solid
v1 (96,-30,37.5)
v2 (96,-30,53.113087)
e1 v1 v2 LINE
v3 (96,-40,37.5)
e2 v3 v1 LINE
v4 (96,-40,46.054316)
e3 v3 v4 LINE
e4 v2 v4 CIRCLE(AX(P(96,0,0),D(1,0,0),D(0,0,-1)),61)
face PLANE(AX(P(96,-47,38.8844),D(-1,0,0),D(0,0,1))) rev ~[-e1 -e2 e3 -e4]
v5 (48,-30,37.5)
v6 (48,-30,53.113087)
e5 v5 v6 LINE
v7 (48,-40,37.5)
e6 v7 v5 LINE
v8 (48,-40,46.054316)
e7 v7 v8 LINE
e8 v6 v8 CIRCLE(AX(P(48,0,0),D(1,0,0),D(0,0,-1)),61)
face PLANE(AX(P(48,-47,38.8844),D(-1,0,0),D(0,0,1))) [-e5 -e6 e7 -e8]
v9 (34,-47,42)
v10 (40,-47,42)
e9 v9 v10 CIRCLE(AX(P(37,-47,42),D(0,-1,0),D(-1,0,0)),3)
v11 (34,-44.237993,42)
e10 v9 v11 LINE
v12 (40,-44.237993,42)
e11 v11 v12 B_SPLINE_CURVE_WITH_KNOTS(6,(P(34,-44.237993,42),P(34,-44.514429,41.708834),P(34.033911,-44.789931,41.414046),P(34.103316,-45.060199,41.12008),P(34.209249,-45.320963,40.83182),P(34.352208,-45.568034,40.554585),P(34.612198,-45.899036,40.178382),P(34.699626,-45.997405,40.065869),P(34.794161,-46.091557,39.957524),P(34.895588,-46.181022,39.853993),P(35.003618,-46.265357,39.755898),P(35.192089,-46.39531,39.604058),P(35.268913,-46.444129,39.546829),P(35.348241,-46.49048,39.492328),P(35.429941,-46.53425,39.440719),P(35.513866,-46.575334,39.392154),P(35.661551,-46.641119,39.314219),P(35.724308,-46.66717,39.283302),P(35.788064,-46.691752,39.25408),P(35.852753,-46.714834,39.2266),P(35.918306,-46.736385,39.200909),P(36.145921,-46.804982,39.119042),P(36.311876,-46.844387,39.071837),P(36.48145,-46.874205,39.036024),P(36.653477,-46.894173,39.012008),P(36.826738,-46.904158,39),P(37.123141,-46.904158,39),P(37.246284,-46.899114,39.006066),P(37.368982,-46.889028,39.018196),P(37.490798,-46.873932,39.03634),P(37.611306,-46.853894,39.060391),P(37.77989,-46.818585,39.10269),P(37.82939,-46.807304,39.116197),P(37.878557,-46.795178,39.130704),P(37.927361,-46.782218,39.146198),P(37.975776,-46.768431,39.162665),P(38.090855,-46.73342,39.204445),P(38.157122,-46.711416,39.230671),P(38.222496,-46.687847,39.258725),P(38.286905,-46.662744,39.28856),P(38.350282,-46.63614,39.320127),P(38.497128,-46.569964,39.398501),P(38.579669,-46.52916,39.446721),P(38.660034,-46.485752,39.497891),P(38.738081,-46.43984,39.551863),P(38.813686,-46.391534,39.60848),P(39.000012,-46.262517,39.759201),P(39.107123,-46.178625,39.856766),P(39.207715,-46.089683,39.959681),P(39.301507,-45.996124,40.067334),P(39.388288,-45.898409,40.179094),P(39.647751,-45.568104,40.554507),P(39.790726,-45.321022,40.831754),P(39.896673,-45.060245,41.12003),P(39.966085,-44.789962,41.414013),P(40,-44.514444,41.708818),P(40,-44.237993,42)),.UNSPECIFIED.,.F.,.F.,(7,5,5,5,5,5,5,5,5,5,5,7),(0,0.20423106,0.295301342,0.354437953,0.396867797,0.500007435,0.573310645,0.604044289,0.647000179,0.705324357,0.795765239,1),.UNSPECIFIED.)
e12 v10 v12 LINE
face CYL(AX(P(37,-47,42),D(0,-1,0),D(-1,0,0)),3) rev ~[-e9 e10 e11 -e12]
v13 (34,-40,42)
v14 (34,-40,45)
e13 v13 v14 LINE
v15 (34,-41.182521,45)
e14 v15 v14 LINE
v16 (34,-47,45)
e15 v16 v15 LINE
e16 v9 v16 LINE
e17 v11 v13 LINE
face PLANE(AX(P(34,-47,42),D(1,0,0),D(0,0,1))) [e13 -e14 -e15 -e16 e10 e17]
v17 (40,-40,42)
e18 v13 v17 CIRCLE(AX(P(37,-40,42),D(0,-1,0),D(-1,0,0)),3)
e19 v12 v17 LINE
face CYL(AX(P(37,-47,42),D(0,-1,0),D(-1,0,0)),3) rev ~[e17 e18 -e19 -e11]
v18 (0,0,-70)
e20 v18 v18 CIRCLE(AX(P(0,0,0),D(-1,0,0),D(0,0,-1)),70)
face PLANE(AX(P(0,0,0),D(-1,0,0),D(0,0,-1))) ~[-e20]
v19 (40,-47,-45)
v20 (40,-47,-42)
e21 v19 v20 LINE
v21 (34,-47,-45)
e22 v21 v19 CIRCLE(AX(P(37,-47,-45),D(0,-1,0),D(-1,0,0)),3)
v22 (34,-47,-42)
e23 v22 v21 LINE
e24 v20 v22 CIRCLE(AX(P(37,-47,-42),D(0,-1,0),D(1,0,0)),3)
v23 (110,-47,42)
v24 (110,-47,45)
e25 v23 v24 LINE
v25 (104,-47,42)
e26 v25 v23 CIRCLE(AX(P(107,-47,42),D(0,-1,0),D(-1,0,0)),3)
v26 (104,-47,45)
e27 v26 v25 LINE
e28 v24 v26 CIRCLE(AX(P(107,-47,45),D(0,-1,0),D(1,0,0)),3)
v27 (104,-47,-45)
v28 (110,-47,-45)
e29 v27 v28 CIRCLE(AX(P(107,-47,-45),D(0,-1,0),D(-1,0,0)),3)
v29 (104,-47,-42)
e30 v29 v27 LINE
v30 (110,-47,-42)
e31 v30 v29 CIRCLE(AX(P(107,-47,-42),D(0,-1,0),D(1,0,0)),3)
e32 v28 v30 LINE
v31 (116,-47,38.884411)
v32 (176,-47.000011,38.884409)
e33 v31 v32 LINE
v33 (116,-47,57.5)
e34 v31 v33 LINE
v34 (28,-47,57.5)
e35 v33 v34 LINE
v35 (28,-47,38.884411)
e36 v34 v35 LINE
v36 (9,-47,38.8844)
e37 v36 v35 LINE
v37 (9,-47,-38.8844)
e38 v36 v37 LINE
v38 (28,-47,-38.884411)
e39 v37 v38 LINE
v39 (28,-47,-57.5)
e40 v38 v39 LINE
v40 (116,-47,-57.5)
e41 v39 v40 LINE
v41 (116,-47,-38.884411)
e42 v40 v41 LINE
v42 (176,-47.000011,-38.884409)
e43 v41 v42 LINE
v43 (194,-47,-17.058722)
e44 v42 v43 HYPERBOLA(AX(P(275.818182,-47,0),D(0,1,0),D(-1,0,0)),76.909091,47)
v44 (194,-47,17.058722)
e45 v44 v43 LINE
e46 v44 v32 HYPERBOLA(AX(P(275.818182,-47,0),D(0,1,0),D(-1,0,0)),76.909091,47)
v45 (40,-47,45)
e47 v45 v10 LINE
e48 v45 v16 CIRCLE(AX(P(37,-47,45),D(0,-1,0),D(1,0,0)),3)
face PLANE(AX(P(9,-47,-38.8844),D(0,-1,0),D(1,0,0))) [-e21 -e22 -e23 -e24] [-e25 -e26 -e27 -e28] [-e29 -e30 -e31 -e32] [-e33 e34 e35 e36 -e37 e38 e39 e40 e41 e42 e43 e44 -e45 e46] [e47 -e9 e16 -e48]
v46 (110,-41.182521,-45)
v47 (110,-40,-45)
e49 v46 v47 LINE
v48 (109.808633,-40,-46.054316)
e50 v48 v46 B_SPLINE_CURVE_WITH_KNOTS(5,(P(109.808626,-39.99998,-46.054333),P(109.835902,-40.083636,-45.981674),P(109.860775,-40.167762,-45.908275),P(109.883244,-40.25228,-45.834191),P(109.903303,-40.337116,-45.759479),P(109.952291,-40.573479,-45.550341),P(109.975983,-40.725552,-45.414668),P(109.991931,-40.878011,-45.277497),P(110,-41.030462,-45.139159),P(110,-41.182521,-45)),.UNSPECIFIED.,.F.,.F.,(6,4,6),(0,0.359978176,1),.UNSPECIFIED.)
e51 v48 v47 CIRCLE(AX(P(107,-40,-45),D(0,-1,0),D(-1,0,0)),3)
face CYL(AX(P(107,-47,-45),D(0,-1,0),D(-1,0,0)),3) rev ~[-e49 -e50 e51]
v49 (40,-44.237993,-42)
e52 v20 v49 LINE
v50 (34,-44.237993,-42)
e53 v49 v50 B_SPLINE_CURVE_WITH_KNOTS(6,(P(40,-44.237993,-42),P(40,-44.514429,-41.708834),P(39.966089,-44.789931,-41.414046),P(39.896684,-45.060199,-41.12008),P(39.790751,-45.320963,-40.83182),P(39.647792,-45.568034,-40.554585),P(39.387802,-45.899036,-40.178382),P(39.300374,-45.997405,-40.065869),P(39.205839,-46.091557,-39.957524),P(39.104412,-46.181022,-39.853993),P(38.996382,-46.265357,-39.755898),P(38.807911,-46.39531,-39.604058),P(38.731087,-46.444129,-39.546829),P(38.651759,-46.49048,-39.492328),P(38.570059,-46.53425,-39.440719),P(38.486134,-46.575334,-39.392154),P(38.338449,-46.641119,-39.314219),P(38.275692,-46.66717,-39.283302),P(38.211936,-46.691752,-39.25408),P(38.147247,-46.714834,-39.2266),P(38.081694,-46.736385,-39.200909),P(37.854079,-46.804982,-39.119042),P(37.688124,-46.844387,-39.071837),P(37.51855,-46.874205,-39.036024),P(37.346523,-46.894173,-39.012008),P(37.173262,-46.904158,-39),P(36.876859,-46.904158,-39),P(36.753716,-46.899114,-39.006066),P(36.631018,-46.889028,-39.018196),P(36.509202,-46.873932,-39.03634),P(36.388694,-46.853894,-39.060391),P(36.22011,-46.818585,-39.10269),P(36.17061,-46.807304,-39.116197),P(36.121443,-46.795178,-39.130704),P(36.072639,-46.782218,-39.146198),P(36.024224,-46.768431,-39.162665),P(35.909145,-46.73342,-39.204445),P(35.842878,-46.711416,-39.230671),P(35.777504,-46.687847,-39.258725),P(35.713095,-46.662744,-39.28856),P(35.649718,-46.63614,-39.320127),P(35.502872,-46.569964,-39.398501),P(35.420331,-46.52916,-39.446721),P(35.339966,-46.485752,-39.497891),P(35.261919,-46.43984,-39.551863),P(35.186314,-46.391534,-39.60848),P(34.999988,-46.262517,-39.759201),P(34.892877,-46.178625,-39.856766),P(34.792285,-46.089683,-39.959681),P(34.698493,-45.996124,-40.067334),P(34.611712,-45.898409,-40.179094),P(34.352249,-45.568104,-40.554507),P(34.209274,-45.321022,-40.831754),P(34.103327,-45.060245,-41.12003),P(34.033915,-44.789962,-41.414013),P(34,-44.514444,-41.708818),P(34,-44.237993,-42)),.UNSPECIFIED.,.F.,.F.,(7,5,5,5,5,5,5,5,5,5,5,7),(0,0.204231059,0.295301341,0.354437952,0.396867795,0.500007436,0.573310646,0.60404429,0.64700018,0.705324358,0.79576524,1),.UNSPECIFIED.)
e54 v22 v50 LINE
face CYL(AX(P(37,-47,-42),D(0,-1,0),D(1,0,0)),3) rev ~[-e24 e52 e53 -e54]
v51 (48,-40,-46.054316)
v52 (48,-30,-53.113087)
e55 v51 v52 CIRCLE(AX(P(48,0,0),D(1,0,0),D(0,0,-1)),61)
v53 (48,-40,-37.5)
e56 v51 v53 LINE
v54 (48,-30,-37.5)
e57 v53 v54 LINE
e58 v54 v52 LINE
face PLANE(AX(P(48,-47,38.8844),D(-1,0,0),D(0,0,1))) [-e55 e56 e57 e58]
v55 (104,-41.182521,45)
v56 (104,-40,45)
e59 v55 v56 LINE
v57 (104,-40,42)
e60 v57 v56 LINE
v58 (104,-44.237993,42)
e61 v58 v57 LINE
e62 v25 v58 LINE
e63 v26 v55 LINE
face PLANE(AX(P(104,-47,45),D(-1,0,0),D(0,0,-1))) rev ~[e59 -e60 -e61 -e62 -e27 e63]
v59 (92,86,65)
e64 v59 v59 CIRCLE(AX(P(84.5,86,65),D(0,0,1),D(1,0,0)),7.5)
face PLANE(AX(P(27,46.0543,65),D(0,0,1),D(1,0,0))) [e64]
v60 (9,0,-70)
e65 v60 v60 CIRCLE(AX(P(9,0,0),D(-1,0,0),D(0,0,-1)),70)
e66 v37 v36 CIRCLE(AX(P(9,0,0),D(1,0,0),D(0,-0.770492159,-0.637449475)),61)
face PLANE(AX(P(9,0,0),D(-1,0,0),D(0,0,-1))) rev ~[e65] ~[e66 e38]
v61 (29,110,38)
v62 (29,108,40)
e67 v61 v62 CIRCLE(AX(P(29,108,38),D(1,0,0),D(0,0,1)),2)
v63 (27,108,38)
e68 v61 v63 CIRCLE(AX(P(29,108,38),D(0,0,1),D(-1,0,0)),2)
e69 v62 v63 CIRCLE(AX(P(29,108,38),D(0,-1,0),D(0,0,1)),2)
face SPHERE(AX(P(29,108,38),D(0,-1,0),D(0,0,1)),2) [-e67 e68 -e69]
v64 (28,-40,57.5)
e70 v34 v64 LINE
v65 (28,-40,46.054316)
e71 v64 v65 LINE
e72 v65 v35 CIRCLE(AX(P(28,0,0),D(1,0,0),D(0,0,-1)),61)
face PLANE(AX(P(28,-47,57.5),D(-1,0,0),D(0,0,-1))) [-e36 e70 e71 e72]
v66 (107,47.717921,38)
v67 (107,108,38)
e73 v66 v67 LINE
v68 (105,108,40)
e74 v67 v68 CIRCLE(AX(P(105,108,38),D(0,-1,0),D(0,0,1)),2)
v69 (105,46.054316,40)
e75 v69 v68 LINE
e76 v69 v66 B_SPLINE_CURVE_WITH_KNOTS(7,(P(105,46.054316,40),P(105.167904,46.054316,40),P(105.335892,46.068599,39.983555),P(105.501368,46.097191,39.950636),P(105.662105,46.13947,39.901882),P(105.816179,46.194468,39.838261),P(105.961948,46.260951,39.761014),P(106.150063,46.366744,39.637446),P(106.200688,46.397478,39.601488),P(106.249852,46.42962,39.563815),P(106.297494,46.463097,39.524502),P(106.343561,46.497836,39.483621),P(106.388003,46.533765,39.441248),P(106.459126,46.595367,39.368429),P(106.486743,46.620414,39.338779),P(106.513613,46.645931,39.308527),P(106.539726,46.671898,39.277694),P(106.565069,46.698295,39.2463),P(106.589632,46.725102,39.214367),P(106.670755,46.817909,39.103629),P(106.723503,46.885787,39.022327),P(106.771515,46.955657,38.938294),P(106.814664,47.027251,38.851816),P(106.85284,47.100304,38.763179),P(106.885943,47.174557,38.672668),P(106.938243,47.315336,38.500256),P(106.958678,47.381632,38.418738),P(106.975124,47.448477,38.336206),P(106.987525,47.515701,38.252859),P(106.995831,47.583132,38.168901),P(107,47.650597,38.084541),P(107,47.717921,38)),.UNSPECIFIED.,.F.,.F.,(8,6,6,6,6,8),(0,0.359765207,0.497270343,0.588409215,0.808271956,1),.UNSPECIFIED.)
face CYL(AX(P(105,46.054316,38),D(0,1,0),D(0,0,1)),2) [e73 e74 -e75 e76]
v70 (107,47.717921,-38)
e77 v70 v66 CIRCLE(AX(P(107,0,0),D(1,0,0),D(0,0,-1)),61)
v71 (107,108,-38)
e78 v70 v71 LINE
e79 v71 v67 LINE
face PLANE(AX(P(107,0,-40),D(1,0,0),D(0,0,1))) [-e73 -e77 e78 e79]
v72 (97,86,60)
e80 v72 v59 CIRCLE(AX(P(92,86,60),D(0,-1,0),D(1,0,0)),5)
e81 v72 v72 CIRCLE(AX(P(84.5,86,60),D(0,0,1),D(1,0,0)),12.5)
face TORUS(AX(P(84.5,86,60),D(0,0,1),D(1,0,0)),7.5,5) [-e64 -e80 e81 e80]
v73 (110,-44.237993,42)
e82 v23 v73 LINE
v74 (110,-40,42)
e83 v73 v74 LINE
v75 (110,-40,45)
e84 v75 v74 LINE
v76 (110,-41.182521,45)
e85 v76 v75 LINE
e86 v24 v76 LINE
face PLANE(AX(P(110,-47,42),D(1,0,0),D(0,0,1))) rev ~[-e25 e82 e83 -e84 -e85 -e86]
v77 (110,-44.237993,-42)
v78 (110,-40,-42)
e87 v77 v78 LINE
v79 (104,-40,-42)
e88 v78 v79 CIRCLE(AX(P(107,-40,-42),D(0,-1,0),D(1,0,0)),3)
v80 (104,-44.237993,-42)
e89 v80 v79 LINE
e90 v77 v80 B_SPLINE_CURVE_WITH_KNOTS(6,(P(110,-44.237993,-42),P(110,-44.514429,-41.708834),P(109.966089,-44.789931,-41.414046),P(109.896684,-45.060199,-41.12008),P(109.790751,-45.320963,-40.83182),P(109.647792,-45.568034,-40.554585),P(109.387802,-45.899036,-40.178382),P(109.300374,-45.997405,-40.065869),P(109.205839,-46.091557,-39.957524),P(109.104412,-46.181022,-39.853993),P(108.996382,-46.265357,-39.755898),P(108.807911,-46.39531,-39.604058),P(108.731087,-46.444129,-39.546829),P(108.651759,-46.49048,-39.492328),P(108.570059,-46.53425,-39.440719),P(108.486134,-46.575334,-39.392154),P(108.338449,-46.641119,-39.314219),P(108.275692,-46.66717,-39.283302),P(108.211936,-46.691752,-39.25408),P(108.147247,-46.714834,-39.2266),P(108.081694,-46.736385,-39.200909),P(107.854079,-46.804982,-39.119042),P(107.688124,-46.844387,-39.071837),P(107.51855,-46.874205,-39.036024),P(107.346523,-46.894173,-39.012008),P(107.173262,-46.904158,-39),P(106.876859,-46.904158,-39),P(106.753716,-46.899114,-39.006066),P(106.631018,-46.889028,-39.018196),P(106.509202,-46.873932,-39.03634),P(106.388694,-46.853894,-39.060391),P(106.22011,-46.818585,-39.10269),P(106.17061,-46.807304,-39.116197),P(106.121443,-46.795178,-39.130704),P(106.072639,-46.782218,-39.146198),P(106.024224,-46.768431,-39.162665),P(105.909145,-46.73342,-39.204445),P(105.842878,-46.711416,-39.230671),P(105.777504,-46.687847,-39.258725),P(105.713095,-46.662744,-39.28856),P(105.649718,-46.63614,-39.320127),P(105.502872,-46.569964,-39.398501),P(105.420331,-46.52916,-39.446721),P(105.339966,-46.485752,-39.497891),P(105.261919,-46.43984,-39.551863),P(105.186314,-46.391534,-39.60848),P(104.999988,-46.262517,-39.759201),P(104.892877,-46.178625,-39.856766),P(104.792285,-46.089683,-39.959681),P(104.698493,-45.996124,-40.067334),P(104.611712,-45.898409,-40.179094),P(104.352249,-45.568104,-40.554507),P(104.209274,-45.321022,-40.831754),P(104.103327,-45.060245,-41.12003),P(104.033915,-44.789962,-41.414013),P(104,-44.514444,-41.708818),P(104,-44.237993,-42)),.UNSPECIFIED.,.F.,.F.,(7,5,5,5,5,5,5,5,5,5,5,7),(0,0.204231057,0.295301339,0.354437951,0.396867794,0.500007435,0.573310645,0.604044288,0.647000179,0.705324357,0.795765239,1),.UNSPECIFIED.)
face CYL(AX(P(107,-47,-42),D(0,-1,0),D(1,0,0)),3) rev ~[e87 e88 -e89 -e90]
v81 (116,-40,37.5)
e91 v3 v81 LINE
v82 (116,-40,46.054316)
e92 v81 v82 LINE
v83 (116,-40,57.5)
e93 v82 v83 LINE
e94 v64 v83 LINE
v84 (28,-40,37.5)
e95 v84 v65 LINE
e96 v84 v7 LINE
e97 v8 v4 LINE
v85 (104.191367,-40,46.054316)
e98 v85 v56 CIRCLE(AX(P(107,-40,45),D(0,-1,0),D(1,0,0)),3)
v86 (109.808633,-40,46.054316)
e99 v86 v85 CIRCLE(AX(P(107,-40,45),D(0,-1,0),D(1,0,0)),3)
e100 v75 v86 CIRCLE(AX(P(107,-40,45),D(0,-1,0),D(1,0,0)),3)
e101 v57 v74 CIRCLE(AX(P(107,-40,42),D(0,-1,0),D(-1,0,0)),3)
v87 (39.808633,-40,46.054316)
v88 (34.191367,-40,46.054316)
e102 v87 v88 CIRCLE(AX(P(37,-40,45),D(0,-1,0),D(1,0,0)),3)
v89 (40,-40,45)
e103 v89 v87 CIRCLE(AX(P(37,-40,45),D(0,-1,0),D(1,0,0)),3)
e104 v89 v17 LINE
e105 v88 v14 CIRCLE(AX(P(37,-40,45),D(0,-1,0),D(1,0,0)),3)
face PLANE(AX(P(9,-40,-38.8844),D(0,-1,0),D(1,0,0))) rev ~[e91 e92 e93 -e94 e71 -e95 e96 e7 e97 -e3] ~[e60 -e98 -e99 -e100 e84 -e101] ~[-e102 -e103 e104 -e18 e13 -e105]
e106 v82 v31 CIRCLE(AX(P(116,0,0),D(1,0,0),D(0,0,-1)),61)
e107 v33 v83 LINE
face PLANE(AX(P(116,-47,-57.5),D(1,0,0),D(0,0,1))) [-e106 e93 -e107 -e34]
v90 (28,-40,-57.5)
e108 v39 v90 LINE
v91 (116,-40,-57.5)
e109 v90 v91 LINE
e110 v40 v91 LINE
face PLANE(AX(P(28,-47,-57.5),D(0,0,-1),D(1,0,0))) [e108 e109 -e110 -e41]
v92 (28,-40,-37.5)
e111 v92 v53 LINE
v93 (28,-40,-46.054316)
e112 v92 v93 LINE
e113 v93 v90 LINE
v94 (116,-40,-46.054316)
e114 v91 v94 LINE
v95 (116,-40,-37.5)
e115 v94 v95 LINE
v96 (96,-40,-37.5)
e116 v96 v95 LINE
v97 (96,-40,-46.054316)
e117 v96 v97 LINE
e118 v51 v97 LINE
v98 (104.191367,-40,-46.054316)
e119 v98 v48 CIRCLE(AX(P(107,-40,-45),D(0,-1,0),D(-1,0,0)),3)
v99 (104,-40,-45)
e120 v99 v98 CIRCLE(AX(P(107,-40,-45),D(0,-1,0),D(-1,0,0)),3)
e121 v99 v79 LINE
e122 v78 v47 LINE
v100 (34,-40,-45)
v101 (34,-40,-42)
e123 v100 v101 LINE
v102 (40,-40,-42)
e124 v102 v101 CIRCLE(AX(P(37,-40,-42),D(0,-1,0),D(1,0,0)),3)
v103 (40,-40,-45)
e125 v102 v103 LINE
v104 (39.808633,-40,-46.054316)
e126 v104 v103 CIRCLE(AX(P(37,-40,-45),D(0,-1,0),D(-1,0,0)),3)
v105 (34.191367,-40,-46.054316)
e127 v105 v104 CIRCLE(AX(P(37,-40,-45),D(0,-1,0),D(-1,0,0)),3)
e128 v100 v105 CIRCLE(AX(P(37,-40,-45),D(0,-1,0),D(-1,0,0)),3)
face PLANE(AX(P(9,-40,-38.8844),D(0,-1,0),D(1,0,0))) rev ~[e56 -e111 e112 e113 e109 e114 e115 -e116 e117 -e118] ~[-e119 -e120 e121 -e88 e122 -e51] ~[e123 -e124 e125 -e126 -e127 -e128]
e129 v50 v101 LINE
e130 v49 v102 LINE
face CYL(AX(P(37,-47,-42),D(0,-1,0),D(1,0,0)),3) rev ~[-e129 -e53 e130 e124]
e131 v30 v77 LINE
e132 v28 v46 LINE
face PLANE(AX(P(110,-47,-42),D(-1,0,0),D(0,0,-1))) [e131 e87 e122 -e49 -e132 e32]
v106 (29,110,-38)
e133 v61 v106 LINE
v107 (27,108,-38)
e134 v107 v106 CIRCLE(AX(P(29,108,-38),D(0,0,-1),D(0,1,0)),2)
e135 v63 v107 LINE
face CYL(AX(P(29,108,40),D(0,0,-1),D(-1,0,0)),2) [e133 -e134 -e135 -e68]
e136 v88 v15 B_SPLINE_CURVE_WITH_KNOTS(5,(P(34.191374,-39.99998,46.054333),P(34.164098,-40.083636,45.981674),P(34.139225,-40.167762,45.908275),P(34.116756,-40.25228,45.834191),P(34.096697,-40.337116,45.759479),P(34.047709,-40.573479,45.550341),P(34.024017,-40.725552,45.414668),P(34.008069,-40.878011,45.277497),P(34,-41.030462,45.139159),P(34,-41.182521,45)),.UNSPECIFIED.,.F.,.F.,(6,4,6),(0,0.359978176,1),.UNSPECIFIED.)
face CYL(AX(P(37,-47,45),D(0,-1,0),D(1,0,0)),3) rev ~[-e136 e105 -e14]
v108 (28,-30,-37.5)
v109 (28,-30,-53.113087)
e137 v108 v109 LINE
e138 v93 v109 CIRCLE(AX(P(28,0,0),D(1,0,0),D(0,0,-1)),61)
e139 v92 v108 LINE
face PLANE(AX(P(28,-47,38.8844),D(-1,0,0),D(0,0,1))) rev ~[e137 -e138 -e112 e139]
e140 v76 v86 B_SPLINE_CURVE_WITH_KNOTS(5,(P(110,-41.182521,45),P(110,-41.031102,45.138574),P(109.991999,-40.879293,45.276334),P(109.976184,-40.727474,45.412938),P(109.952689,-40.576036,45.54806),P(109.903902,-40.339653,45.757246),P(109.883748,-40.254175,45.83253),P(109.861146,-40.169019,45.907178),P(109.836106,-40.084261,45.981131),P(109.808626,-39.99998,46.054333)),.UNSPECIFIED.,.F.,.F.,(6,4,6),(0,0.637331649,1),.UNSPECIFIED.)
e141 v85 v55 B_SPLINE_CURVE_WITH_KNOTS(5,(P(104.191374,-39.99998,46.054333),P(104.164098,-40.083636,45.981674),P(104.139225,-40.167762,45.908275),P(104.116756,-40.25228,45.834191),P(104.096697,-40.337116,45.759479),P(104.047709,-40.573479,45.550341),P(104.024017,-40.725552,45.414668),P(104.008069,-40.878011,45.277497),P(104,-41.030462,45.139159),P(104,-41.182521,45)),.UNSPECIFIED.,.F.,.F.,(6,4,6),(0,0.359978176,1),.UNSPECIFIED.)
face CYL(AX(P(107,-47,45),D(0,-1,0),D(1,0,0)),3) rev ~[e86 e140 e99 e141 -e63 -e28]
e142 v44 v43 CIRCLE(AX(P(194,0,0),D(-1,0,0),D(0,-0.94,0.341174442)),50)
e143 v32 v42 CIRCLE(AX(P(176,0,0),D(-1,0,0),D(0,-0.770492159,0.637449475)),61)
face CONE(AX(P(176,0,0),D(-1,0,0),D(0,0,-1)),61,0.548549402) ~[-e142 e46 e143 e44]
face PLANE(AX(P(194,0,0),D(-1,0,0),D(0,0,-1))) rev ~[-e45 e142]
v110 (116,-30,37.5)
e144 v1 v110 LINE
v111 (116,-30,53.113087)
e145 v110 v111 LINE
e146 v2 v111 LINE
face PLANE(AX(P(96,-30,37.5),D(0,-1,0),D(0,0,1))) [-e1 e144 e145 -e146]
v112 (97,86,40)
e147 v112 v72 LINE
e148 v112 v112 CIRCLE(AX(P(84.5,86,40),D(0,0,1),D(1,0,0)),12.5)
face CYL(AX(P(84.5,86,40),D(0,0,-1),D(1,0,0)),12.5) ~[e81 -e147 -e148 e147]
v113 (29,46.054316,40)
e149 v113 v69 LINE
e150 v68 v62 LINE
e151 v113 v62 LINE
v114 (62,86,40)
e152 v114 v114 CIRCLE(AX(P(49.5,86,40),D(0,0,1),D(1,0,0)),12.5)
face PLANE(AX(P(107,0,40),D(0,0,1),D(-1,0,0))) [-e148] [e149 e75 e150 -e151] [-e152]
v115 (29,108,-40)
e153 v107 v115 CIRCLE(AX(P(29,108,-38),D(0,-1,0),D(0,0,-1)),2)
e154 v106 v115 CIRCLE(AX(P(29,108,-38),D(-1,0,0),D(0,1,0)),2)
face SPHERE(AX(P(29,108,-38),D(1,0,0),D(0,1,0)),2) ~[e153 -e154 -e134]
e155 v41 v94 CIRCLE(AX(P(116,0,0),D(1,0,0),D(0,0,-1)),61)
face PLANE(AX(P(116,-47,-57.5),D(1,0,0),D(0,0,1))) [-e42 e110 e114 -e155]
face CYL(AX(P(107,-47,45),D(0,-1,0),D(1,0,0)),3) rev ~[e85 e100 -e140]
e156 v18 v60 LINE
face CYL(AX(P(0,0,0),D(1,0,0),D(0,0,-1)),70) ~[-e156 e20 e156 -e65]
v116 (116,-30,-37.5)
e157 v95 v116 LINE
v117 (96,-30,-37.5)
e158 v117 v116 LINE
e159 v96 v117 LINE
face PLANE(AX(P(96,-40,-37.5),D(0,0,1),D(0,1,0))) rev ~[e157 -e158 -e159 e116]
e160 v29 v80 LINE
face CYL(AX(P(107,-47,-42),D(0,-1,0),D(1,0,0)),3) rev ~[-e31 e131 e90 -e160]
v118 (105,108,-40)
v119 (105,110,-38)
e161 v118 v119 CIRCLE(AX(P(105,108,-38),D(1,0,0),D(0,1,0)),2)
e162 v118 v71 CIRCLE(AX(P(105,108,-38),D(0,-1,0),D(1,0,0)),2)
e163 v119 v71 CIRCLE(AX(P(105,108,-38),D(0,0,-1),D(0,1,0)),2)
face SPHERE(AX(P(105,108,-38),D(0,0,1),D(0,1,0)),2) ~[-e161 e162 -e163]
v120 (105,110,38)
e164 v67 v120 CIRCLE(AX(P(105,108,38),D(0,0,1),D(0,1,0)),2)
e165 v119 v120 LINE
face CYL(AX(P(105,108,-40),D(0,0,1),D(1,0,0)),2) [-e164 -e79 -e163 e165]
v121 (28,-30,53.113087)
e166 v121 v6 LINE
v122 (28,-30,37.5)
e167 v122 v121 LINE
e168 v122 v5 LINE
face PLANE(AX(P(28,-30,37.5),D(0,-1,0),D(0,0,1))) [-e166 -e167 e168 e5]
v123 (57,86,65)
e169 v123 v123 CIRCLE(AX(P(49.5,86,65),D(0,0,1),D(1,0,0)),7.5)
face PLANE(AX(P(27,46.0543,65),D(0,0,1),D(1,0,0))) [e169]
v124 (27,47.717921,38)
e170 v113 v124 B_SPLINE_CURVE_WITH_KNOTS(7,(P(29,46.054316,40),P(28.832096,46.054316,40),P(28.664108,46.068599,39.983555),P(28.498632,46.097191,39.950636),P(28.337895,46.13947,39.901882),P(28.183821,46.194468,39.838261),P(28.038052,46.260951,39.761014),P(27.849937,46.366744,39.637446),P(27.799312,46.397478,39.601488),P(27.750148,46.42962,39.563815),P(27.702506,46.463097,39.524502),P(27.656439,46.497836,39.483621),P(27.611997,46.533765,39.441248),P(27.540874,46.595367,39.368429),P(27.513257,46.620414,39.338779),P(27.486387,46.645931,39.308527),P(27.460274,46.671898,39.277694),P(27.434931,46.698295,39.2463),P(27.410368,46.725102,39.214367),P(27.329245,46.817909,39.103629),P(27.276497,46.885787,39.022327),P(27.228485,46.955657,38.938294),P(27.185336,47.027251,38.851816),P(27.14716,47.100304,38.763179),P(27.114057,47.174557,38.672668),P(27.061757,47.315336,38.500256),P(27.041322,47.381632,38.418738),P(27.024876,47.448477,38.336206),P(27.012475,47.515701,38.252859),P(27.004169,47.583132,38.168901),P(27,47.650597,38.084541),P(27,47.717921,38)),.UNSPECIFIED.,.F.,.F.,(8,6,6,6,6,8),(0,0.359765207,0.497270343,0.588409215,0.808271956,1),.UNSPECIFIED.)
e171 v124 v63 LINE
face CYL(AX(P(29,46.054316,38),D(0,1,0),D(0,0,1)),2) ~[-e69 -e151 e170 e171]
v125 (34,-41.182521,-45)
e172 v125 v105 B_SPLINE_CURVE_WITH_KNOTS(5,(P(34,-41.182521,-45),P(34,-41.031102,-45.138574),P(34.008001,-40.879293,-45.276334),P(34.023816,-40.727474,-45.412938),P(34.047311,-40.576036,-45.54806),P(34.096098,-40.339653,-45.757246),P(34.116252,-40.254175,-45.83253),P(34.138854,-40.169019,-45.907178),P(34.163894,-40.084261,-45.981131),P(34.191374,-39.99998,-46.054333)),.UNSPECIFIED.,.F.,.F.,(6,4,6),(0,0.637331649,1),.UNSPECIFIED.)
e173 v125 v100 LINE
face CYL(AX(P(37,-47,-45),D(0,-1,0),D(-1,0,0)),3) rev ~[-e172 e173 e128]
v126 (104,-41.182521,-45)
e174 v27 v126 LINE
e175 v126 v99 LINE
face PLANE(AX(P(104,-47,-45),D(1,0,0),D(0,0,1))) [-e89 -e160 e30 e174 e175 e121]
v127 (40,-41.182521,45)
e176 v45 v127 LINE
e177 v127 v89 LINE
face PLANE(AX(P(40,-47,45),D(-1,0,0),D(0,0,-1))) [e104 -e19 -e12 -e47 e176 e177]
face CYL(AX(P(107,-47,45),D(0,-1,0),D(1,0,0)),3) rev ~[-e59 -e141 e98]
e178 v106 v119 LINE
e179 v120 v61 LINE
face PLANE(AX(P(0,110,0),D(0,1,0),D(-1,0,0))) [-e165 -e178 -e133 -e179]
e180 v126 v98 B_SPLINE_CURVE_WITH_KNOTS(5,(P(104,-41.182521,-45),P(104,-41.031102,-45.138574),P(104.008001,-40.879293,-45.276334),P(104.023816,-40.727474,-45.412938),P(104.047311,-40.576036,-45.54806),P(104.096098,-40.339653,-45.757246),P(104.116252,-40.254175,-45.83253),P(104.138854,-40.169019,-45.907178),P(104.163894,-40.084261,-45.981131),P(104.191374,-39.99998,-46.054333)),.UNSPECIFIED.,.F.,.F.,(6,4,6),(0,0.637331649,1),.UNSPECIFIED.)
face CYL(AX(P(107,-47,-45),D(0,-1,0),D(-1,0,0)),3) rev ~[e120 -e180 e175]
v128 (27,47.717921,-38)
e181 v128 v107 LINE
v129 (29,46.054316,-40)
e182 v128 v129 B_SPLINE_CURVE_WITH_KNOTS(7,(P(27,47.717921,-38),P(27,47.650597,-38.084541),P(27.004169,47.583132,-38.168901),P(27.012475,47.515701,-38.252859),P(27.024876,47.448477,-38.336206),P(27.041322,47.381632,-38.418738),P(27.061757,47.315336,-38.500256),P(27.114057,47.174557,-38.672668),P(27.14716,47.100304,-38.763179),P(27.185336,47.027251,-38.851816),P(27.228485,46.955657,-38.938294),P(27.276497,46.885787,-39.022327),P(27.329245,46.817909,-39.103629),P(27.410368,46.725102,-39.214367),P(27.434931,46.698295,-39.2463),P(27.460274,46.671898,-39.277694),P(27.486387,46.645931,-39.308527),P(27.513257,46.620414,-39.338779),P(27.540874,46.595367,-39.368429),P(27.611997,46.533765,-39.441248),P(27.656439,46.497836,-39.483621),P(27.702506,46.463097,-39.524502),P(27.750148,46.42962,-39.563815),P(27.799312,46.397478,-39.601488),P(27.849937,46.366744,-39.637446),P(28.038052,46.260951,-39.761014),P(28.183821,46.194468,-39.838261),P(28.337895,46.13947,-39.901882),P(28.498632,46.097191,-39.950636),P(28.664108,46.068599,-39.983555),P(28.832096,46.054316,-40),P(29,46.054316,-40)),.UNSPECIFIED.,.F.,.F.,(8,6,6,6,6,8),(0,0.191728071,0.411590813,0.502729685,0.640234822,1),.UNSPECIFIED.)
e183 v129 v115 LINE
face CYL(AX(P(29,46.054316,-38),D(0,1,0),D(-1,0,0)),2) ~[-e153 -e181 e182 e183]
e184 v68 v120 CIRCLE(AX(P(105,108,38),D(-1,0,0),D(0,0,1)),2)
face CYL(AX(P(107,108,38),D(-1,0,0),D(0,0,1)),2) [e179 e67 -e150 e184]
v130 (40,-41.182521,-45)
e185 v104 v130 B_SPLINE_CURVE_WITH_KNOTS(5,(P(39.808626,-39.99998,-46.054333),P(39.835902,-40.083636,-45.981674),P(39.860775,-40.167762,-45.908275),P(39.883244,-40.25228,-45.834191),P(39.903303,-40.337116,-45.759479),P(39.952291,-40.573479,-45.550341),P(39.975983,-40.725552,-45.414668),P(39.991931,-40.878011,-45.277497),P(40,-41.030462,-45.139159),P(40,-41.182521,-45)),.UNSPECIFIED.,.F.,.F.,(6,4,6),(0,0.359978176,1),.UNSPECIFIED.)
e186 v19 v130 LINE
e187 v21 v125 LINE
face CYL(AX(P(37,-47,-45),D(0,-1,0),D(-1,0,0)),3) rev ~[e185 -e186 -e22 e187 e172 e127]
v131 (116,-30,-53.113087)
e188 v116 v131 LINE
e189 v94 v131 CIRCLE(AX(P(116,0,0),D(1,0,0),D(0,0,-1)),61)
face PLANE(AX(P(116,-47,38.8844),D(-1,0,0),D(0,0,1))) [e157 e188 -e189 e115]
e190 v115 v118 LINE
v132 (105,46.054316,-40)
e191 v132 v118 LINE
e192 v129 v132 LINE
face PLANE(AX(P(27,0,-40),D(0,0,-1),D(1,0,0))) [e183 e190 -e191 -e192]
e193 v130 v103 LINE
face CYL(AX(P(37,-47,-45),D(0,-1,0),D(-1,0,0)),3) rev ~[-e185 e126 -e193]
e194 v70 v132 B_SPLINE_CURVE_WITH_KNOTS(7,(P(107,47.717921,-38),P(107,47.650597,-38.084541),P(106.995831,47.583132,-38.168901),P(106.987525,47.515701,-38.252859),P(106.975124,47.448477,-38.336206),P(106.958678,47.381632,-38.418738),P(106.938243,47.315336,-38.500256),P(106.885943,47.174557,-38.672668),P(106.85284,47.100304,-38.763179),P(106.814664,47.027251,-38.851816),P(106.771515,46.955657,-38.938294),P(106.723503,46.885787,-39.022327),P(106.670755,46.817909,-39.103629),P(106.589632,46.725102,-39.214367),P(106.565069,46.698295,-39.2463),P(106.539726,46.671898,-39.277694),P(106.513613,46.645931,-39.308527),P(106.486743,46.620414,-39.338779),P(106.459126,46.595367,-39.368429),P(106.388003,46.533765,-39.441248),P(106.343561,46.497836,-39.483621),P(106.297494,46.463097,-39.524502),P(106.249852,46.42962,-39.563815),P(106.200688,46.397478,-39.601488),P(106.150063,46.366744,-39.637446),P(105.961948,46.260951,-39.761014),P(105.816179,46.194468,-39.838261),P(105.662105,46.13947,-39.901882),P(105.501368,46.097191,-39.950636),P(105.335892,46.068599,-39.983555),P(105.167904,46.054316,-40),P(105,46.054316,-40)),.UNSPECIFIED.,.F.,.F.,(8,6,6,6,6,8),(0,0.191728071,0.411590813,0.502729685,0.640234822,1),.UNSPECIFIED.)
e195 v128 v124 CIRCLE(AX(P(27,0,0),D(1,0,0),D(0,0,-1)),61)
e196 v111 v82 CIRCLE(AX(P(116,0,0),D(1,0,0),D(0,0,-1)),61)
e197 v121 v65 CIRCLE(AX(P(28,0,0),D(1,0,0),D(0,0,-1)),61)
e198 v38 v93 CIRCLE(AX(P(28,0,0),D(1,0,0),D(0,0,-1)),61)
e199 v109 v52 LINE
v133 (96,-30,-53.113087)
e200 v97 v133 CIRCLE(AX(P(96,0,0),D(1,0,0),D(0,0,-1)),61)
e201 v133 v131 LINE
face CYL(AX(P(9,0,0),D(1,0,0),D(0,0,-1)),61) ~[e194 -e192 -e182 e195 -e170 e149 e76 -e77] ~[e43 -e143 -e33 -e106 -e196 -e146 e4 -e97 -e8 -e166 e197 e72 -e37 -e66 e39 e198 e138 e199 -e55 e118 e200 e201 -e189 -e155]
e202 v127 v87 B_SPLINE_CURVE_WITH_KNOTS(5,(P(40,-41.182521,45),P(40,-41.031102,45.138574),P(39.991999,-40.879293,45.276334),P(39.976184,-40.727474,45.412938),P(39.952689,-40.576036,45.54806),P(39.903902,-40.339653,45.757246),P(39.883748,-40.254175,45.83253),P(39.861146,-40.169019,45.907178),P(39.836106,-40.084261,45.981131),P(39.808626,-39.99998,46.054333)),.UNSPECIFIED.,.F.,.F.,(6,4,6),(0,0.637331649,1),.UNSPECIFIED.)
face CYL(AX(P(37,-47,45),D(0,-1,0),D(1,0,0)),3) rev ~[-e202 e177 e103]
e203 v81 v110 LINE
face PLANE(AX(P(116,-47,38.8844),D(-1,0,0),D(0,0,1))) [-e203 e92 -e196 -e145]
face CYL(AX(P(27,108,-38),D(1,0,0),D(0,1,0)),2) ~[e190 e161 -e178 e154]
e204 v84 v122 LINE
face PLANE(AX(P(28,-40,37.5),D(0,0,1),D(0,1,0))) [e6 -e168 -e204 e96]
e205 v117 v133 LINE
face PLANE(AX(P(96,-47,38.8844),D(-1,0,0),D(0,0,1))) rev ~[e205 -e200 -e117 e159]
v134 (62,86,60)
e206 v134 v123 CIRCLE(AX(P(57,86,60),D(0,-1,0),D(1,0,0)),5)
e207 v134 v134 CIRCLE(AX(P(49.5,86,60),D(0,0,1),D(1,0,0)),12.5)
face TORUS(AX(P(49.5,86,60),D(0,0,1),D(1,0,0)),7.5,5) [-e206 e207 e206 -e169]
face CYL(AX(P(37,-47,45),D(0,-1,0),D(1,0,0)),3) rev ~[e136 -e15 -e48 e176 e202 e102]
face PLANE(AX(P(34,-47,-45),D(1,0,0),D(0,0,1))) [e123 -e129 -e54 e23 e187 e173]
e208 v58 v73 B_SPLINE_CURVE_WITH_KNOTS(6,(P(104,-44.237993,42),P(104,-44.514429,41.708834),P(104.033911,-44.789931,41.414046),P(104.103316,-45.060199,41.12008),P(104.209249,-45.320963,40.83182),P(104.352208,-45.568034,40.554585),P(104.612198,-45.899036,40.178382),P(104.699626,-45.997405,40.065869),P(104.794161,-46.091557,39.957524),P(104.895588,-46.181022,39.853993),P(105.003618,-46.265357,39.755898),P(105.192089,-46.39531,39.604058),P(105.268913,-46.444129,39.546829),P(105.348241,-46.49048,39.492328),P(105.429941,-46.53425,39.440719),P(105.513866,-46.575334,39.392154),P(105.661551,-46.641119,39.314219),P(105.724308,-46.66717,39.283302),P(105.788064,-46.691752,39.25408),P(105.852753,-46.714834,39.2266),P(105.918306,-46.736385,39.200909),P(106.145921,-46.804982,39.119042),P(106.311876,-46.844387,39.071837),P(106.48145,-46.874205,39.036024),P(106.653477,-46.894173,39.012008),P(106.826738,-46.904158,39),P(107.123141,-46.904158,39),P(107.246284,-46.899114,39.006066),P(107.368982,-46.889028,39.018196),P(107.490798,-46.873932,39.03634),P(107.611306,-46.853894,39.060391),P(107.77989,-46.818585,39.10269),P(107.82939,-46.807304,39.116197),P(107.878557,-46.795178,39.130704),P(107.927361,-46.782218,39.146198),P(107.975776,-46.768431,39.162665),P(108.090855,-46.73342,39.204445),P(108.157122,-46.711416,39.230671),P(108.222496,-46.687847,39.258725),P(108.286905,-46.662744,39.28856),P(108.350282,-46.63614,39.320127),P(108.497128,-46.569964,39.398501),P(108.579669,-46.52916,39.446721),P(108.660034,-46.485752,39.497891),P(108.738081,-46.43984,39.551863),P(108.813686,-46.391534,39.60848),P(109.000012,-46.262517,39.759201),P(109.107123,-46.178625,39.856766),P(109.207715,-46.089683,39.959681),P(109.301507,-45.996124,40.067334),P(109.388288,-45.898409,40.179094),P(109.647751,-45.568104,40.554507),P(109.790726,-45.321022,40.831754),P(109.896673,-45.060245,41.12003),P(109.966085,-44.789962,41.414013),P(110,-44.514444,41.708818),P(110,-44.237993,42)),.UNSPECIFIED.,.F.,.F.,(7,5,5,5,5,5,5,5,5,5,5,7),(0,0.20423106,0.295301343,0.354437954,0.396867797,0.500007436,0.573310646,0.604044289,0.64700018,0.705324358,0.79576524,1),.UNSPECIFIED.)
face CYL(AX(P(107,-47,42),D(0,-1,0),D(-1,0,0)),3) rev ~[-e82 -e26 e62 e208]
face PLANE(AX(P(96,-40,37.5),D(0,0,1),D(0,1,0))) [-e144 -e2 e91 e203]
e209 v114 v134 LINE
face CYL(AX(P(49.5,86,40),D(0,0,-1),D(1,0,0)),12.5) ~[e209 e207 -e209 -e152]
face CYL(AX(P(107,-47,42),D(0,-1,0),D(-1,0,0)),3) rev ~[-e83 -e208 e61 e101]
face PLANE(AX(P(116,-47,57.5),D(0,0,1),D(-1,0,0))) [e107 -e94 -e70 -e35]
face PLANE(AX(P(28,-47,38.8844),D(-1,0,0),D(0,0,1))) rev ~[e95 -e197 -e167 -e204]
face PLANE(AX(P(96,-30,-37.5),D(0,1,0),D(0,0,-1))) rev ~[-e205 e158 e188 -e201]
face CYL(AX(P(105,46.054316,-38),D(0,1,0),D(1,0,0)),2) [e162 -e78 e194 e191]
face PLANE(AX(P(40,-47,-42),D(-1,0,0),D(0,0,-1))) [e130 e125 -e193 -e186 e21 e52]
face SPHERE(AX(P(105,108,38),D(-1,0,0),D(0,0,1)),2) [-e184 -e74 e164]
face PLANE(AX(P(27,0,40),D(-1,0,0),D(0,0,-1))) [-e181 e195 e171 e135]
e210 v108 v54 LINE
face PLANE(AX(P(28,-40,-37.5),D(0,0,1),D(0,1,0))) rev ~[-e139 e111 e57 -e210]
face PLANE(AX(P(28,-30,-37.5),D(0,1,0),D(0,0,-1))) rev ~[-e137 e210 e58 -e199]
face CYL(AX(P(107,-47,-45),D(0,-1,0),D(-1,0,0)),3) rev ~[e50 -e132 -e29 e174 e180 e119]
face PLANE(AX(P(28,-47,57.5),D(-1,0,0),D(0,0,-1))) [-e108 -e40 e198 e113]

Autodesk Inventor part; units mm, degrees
ref_plane "YZ Plane" through (0, 0, 0) normal (1, 0, 0) x (0, 1, 0)
ref_plane "XZ Plane" through (0, 0, 0) normal (0, 1, 0) x (-1, 0, 0)
ref_plane "XY Plane" through (0, 0, 0) normal (0, 0, 1) x (1, 0, 0)
sketch "Эскиз1" plane through (0, 0, 0) normal (0, 1, 0) x (-1, 0, 0)
  line L0 (0, 0) -> (0, -70)
  line L1 (0, -70) -> (-9, -70)
  line L2 (-9, -70) -> (-9, -61)
  line L3 (-9, -61) -> (-176, -61)
  line L4 (-176, -61) -> (-194, -50)
  line L5 (-194, -50) -> (-194, 0)
  line L6 (-194, 0) -> (0, 0)
  point P0 (-4.5, -70)
  dimension "d0" = 194
  dimension "d1" = 9
  dimension "d14" = 140
  dimension "d103" = 122
  dimension "d104" = 100
  dimension "d105" = 18
revolve "Вращение1" add sketch "Эскиз1" angle 360 about axis through (194, 0, 0) along (-1, 0, 0)
sketch "Эскиз5" plane through (0, 0, 0) normal (0, 1, 0) x (-1, 0, 0)
  line L0 (-176, -61) -> (-176, 61) projected
  line L1 (-9, -61) -> (-9, 61) projected
  line L2 (-27, -40) -> (-107, -40)
  line L3 (-107, -40) -> (-107, 40)
  line L4 (-107, 40) -> (-27, 40)
  line L5 (-27, 40) -> (-27, -40)
  point P0 (0, 0)
  point P1 (-27, 0)
  point P2 (-9, 0)
  dimension "d38" = 80
  dimension "d40" = 18
extrude "Выдавливание4" add sketch "Эскиз5" along normal blind 110
sketch "Sketch15" plane through (27, 46.0543, 40) normal (0, 0, 1) x (1, 0, 0)
  circle A0 centre (22.5, 39.9457) radius 12.5
  circle A1 centre (57.5, 39.9457) radius 12.5
  line L0 (80, 63.9457) -> (0, 63.9457) construction
  line L1 (40, 63.9457) -> (40, 0) construction
  line L2 (0, 0) -> (80, 0) construction
  point P0 (-27, -46.0543)
  dimension "d106" = 25
  dimension "d107" = 35
  dimension "d108" = 24
extrude "Extrusion14" add sketch "Sketch15" along normal blind 25
fillet "Fillet1" radius 5 2 edges at (37, 86, 65) (72, 86, 65)
fillet "Fillet2" radius 2 8 edges at (27, 78.0272, 40) (67, 110, 40) (107, 78.0272, 40) (107, 110, 0) (67, 110, -40) (27, 110, 0) (107, 78.0272, -40) (27, 78.0272, -40)
sketch "Sketch16" plane through (9, 0, 0) normal (1, 0, 0) x (0, 0, -1)
  circle A0 centre (0, 0) radius 61 projected
  line L0 (-38.8844, -47) -> (38.8844, -47)
  line L1 (0, -61) -> (0, -47) construction
  dimension "d113" = 14
extrude "Extrusion15" cut sketch "Sketch16" along normal up to surface (185 mm away) contours L0 A0 picked at (-10.0748, -48.9953)
sketch "Sketch17" plane through (9, -47, -38.8844) normal (0, -1, 0) x (1, 0, 0)
  line L0 (0, 77.7689) -> (167, 77.7689) construction
  line L1 (0, 0) -> (0, 77.7689) construction
  line L2 (167, 0) -> (0, 0) construction
  line L3 (185, 55.9432) -> (185, 21.8257) construction
  line L4 (19, -18.6156) -> (107, -18.6156)
  line L5 (107, -18.6156) -> (107, 96.3844)
  line L6 (107, 96.3844) -> (19, 96.3844)
  line L7 (19, 96.3844) -> (19, -18.6156)
  line L8 (19, -18.6156) -> (107, 96.3844) construction
  line L9 (107, -18.6156) -> (19, 96.3844) construction
  line L10 (28, 80.8844) -> (28, 83.8844) construction
  line L11 (25, 80.8844) -> (25, 83.8844)
  line L12 (31, 83.8844) -> (31, 80.8844)
  arc A0 (25, 80.8844) -> (31, 80.8844) centre (28, 80.8844) ccw
  arc A1 (31, 83.8844) -> (25, 83.8844) centre (28, 83.8844) ccw
  line L13 (98, 80.8844) -> (98, 83.8844) construction
  line L14 (101, 80.8844) -> (101, 83.8844)
  line L15 (95, 83.8844) -> (95, 80.8844)
  arc A2 (95, 80.8844) -> (101, 80.8844) centre (98, 80.8844) ccw
  arc A3 (101, 83.8844) -> (95, 83.8844) centre (98, 83.8844) ccw
  line L16 (98, -6.1156) -> (98, -3.1156) construction
  line L17 (101, -6.1156) -> (101, -3.1156)
  line L18 (95, -3.1156) -> (95, -6.1156)
  arc A4 (95, -6.1156) -> (101, -6.1156) centre (98, -6.1156) ccw
  arc A5 (101, -3.1156) -> (95, -3.1156) centre (98, -3.1156) ccw
  line L19 (28, -6.1156) -> (28, -3.1156) construction
  line L20 (31, -6.1156) -> (31, -3.1156)
  line L21 (25, -3.1156) -> (25, -6.1156)
  arc A6 (25, -6.1156) -> (31, -6.1156) centre (28, -6.1156) ccw
  arc A7 (31, -3.1156) -> (25, -3.1156) centre (28, -3.1156) ccw
  line L22 (-9, 108.8844) -> (-9, -31.1156) projected
  line L23 (63, 38.8844) -> (-9, 38.8844) construction
  point P0 (28, 82.3844)
  point P1 (98, 82.3844)
  point P2 (98, -4.6156)
  point P3 (28, -4.6156)
  dimension "d116" = 115
  dimension "d117" = 88
  dimension "d118" = 37
  dimension "d119" = 70
  dimension "d120" = 28
  dimension "d121" = 3
  dimension "d122" = 3
  dimension "d123" = 14
extrude "Extrusion16" add sketch "Sketch17" against normal blind 7
sketch "Sketch18" plane through (28, -47, 38.8844) normal (-1, 0, 0) x (0, 0, 1)
  line L0 (18.6156, 0) -> (18.6156, 7) projected
  line L1 (-96.3844, 0) -> (-96.3844, 7) projected
  line L2 (-96.3844, 7) -> (18.6156, 7)
  line L3 (-84.9388, 7) -> (-96.3844, 7) projected
  line L4 (18.6156, 7) -> (-1.3844, 7)
  line L5 (-1.3844, 7) -> (-1.3844, 17)
  line L6 (-1.3844, 17) -> (18.6156, 17)
  line L7 (18.6156, 17) -> (18.6156, 7)
  line L8 (-96.3844, 7) -> (-76.3844, 7)
  line L9 (-76.3844, 7) -> (-76.3844, 17)
  line L10 (-76.3844, 17) -> (-96.3844, 17)
  line L11 (-96.3844, 17) -> (-96.3844, 7)
  point P0 (-38.8844, 47)
  point P1 (-76.3844, 7)
  point P2 (-1.3844, 7)
  dimension "d126" = 20
  dimension "d127" = 10
extrude "Extrusion17" cut sketch "Sketch18" against normal blind 20
pattern_linear "Rectangular Pattern2" count 2 spacing 68 along (1, 0, 0) of "Extrusion17"
sketch "Sketch19" plane through (9, -47, -38.8844) normal (0, -1, 0) x (1, 0, 0)
  arc A0 (95, -6.1156) -> (101, -6.1156) centre (98, -6.1156) ccw projected
  line L0 (95, -6.1156) -> (95, -3.1156) projected
  arc A1 (101, -3.1156) -> (95, -3.1156) centre (98, -3.1156) ccw projected
  line L1 (101, -3.1156) -> (101, -6.1156) projected
  arc A2 (25, -6.1156) -> (31, -6.1156) centre (28, -6.1156) ccw projected
  line L2 (25, -6.1156) -> (25, -3.1156) projected
  arc A3 (31, -3.1156) -> (25, -3.1156) centre (28, -3.1156) ccw projected
  line L3 (31, -3.1156) -> (31, -6.1156) projected
  arc A4 (95, 80.8844) -> (101, 80.8844) centre (98, 80.8844) ccw projected
  line L4 (95, 80.8844) -> (95, 83.8844) projected
  arc A5 (101, 83.8844) -> (95, 83.8844) centre (98, 83.8844) ccw projected
  line L5 (101, 83.8844) -> (101, 80.8844) projected
  line L6 (31, 83.8844) -> (31, 80.8844) projected
  arc A6 (25, 80.8844) -> (31, 80.8844) centre (28, 80.8844) ccw projected
  line L7 (25, 80.8844) -> (25, 83.8844) projected
  arc A7 (31, 83.8844) -> (25, 83.8844) centre (28, 83.8844) ccw projected
  line L8 (0, 77.7689) -> (19, 77.7689) projected
  line L9 (0, 0) -> (0, 77.7689) projected
  line L10 (19, 0) -> (0, 0) projected
  line L11 (19, 0) -> (19, -18.6156) projected
  line L12 (19, -18.6156) -> (107, -18.6156) projected
  line L13 (107, -18.6156) -> (107, 0) projected
  line L14 (167, 0) -> (107, 0) projected
  line L15 (185, 55.9432) -> (185, 21.8257) projected
  line L16 (107, 77.7689) -> (167, 77.7689) projected
  line L17 (107, 77.7689) -> (107, 96.3844) projected
  line L18 (107, 96.3844) -> (19, 96.3844) projected
  line L19 (19, 96.3844) -> (19, 77.7689) projected
  point P0 (-9, 38.8844)
extrude "Extrusion18" cut sketch "Sketch19" against normal blind 10
equation "\"Reductor_angle\" = 180deg"
properties part number "СДР 060 Мотор-редуктор 2.0"
